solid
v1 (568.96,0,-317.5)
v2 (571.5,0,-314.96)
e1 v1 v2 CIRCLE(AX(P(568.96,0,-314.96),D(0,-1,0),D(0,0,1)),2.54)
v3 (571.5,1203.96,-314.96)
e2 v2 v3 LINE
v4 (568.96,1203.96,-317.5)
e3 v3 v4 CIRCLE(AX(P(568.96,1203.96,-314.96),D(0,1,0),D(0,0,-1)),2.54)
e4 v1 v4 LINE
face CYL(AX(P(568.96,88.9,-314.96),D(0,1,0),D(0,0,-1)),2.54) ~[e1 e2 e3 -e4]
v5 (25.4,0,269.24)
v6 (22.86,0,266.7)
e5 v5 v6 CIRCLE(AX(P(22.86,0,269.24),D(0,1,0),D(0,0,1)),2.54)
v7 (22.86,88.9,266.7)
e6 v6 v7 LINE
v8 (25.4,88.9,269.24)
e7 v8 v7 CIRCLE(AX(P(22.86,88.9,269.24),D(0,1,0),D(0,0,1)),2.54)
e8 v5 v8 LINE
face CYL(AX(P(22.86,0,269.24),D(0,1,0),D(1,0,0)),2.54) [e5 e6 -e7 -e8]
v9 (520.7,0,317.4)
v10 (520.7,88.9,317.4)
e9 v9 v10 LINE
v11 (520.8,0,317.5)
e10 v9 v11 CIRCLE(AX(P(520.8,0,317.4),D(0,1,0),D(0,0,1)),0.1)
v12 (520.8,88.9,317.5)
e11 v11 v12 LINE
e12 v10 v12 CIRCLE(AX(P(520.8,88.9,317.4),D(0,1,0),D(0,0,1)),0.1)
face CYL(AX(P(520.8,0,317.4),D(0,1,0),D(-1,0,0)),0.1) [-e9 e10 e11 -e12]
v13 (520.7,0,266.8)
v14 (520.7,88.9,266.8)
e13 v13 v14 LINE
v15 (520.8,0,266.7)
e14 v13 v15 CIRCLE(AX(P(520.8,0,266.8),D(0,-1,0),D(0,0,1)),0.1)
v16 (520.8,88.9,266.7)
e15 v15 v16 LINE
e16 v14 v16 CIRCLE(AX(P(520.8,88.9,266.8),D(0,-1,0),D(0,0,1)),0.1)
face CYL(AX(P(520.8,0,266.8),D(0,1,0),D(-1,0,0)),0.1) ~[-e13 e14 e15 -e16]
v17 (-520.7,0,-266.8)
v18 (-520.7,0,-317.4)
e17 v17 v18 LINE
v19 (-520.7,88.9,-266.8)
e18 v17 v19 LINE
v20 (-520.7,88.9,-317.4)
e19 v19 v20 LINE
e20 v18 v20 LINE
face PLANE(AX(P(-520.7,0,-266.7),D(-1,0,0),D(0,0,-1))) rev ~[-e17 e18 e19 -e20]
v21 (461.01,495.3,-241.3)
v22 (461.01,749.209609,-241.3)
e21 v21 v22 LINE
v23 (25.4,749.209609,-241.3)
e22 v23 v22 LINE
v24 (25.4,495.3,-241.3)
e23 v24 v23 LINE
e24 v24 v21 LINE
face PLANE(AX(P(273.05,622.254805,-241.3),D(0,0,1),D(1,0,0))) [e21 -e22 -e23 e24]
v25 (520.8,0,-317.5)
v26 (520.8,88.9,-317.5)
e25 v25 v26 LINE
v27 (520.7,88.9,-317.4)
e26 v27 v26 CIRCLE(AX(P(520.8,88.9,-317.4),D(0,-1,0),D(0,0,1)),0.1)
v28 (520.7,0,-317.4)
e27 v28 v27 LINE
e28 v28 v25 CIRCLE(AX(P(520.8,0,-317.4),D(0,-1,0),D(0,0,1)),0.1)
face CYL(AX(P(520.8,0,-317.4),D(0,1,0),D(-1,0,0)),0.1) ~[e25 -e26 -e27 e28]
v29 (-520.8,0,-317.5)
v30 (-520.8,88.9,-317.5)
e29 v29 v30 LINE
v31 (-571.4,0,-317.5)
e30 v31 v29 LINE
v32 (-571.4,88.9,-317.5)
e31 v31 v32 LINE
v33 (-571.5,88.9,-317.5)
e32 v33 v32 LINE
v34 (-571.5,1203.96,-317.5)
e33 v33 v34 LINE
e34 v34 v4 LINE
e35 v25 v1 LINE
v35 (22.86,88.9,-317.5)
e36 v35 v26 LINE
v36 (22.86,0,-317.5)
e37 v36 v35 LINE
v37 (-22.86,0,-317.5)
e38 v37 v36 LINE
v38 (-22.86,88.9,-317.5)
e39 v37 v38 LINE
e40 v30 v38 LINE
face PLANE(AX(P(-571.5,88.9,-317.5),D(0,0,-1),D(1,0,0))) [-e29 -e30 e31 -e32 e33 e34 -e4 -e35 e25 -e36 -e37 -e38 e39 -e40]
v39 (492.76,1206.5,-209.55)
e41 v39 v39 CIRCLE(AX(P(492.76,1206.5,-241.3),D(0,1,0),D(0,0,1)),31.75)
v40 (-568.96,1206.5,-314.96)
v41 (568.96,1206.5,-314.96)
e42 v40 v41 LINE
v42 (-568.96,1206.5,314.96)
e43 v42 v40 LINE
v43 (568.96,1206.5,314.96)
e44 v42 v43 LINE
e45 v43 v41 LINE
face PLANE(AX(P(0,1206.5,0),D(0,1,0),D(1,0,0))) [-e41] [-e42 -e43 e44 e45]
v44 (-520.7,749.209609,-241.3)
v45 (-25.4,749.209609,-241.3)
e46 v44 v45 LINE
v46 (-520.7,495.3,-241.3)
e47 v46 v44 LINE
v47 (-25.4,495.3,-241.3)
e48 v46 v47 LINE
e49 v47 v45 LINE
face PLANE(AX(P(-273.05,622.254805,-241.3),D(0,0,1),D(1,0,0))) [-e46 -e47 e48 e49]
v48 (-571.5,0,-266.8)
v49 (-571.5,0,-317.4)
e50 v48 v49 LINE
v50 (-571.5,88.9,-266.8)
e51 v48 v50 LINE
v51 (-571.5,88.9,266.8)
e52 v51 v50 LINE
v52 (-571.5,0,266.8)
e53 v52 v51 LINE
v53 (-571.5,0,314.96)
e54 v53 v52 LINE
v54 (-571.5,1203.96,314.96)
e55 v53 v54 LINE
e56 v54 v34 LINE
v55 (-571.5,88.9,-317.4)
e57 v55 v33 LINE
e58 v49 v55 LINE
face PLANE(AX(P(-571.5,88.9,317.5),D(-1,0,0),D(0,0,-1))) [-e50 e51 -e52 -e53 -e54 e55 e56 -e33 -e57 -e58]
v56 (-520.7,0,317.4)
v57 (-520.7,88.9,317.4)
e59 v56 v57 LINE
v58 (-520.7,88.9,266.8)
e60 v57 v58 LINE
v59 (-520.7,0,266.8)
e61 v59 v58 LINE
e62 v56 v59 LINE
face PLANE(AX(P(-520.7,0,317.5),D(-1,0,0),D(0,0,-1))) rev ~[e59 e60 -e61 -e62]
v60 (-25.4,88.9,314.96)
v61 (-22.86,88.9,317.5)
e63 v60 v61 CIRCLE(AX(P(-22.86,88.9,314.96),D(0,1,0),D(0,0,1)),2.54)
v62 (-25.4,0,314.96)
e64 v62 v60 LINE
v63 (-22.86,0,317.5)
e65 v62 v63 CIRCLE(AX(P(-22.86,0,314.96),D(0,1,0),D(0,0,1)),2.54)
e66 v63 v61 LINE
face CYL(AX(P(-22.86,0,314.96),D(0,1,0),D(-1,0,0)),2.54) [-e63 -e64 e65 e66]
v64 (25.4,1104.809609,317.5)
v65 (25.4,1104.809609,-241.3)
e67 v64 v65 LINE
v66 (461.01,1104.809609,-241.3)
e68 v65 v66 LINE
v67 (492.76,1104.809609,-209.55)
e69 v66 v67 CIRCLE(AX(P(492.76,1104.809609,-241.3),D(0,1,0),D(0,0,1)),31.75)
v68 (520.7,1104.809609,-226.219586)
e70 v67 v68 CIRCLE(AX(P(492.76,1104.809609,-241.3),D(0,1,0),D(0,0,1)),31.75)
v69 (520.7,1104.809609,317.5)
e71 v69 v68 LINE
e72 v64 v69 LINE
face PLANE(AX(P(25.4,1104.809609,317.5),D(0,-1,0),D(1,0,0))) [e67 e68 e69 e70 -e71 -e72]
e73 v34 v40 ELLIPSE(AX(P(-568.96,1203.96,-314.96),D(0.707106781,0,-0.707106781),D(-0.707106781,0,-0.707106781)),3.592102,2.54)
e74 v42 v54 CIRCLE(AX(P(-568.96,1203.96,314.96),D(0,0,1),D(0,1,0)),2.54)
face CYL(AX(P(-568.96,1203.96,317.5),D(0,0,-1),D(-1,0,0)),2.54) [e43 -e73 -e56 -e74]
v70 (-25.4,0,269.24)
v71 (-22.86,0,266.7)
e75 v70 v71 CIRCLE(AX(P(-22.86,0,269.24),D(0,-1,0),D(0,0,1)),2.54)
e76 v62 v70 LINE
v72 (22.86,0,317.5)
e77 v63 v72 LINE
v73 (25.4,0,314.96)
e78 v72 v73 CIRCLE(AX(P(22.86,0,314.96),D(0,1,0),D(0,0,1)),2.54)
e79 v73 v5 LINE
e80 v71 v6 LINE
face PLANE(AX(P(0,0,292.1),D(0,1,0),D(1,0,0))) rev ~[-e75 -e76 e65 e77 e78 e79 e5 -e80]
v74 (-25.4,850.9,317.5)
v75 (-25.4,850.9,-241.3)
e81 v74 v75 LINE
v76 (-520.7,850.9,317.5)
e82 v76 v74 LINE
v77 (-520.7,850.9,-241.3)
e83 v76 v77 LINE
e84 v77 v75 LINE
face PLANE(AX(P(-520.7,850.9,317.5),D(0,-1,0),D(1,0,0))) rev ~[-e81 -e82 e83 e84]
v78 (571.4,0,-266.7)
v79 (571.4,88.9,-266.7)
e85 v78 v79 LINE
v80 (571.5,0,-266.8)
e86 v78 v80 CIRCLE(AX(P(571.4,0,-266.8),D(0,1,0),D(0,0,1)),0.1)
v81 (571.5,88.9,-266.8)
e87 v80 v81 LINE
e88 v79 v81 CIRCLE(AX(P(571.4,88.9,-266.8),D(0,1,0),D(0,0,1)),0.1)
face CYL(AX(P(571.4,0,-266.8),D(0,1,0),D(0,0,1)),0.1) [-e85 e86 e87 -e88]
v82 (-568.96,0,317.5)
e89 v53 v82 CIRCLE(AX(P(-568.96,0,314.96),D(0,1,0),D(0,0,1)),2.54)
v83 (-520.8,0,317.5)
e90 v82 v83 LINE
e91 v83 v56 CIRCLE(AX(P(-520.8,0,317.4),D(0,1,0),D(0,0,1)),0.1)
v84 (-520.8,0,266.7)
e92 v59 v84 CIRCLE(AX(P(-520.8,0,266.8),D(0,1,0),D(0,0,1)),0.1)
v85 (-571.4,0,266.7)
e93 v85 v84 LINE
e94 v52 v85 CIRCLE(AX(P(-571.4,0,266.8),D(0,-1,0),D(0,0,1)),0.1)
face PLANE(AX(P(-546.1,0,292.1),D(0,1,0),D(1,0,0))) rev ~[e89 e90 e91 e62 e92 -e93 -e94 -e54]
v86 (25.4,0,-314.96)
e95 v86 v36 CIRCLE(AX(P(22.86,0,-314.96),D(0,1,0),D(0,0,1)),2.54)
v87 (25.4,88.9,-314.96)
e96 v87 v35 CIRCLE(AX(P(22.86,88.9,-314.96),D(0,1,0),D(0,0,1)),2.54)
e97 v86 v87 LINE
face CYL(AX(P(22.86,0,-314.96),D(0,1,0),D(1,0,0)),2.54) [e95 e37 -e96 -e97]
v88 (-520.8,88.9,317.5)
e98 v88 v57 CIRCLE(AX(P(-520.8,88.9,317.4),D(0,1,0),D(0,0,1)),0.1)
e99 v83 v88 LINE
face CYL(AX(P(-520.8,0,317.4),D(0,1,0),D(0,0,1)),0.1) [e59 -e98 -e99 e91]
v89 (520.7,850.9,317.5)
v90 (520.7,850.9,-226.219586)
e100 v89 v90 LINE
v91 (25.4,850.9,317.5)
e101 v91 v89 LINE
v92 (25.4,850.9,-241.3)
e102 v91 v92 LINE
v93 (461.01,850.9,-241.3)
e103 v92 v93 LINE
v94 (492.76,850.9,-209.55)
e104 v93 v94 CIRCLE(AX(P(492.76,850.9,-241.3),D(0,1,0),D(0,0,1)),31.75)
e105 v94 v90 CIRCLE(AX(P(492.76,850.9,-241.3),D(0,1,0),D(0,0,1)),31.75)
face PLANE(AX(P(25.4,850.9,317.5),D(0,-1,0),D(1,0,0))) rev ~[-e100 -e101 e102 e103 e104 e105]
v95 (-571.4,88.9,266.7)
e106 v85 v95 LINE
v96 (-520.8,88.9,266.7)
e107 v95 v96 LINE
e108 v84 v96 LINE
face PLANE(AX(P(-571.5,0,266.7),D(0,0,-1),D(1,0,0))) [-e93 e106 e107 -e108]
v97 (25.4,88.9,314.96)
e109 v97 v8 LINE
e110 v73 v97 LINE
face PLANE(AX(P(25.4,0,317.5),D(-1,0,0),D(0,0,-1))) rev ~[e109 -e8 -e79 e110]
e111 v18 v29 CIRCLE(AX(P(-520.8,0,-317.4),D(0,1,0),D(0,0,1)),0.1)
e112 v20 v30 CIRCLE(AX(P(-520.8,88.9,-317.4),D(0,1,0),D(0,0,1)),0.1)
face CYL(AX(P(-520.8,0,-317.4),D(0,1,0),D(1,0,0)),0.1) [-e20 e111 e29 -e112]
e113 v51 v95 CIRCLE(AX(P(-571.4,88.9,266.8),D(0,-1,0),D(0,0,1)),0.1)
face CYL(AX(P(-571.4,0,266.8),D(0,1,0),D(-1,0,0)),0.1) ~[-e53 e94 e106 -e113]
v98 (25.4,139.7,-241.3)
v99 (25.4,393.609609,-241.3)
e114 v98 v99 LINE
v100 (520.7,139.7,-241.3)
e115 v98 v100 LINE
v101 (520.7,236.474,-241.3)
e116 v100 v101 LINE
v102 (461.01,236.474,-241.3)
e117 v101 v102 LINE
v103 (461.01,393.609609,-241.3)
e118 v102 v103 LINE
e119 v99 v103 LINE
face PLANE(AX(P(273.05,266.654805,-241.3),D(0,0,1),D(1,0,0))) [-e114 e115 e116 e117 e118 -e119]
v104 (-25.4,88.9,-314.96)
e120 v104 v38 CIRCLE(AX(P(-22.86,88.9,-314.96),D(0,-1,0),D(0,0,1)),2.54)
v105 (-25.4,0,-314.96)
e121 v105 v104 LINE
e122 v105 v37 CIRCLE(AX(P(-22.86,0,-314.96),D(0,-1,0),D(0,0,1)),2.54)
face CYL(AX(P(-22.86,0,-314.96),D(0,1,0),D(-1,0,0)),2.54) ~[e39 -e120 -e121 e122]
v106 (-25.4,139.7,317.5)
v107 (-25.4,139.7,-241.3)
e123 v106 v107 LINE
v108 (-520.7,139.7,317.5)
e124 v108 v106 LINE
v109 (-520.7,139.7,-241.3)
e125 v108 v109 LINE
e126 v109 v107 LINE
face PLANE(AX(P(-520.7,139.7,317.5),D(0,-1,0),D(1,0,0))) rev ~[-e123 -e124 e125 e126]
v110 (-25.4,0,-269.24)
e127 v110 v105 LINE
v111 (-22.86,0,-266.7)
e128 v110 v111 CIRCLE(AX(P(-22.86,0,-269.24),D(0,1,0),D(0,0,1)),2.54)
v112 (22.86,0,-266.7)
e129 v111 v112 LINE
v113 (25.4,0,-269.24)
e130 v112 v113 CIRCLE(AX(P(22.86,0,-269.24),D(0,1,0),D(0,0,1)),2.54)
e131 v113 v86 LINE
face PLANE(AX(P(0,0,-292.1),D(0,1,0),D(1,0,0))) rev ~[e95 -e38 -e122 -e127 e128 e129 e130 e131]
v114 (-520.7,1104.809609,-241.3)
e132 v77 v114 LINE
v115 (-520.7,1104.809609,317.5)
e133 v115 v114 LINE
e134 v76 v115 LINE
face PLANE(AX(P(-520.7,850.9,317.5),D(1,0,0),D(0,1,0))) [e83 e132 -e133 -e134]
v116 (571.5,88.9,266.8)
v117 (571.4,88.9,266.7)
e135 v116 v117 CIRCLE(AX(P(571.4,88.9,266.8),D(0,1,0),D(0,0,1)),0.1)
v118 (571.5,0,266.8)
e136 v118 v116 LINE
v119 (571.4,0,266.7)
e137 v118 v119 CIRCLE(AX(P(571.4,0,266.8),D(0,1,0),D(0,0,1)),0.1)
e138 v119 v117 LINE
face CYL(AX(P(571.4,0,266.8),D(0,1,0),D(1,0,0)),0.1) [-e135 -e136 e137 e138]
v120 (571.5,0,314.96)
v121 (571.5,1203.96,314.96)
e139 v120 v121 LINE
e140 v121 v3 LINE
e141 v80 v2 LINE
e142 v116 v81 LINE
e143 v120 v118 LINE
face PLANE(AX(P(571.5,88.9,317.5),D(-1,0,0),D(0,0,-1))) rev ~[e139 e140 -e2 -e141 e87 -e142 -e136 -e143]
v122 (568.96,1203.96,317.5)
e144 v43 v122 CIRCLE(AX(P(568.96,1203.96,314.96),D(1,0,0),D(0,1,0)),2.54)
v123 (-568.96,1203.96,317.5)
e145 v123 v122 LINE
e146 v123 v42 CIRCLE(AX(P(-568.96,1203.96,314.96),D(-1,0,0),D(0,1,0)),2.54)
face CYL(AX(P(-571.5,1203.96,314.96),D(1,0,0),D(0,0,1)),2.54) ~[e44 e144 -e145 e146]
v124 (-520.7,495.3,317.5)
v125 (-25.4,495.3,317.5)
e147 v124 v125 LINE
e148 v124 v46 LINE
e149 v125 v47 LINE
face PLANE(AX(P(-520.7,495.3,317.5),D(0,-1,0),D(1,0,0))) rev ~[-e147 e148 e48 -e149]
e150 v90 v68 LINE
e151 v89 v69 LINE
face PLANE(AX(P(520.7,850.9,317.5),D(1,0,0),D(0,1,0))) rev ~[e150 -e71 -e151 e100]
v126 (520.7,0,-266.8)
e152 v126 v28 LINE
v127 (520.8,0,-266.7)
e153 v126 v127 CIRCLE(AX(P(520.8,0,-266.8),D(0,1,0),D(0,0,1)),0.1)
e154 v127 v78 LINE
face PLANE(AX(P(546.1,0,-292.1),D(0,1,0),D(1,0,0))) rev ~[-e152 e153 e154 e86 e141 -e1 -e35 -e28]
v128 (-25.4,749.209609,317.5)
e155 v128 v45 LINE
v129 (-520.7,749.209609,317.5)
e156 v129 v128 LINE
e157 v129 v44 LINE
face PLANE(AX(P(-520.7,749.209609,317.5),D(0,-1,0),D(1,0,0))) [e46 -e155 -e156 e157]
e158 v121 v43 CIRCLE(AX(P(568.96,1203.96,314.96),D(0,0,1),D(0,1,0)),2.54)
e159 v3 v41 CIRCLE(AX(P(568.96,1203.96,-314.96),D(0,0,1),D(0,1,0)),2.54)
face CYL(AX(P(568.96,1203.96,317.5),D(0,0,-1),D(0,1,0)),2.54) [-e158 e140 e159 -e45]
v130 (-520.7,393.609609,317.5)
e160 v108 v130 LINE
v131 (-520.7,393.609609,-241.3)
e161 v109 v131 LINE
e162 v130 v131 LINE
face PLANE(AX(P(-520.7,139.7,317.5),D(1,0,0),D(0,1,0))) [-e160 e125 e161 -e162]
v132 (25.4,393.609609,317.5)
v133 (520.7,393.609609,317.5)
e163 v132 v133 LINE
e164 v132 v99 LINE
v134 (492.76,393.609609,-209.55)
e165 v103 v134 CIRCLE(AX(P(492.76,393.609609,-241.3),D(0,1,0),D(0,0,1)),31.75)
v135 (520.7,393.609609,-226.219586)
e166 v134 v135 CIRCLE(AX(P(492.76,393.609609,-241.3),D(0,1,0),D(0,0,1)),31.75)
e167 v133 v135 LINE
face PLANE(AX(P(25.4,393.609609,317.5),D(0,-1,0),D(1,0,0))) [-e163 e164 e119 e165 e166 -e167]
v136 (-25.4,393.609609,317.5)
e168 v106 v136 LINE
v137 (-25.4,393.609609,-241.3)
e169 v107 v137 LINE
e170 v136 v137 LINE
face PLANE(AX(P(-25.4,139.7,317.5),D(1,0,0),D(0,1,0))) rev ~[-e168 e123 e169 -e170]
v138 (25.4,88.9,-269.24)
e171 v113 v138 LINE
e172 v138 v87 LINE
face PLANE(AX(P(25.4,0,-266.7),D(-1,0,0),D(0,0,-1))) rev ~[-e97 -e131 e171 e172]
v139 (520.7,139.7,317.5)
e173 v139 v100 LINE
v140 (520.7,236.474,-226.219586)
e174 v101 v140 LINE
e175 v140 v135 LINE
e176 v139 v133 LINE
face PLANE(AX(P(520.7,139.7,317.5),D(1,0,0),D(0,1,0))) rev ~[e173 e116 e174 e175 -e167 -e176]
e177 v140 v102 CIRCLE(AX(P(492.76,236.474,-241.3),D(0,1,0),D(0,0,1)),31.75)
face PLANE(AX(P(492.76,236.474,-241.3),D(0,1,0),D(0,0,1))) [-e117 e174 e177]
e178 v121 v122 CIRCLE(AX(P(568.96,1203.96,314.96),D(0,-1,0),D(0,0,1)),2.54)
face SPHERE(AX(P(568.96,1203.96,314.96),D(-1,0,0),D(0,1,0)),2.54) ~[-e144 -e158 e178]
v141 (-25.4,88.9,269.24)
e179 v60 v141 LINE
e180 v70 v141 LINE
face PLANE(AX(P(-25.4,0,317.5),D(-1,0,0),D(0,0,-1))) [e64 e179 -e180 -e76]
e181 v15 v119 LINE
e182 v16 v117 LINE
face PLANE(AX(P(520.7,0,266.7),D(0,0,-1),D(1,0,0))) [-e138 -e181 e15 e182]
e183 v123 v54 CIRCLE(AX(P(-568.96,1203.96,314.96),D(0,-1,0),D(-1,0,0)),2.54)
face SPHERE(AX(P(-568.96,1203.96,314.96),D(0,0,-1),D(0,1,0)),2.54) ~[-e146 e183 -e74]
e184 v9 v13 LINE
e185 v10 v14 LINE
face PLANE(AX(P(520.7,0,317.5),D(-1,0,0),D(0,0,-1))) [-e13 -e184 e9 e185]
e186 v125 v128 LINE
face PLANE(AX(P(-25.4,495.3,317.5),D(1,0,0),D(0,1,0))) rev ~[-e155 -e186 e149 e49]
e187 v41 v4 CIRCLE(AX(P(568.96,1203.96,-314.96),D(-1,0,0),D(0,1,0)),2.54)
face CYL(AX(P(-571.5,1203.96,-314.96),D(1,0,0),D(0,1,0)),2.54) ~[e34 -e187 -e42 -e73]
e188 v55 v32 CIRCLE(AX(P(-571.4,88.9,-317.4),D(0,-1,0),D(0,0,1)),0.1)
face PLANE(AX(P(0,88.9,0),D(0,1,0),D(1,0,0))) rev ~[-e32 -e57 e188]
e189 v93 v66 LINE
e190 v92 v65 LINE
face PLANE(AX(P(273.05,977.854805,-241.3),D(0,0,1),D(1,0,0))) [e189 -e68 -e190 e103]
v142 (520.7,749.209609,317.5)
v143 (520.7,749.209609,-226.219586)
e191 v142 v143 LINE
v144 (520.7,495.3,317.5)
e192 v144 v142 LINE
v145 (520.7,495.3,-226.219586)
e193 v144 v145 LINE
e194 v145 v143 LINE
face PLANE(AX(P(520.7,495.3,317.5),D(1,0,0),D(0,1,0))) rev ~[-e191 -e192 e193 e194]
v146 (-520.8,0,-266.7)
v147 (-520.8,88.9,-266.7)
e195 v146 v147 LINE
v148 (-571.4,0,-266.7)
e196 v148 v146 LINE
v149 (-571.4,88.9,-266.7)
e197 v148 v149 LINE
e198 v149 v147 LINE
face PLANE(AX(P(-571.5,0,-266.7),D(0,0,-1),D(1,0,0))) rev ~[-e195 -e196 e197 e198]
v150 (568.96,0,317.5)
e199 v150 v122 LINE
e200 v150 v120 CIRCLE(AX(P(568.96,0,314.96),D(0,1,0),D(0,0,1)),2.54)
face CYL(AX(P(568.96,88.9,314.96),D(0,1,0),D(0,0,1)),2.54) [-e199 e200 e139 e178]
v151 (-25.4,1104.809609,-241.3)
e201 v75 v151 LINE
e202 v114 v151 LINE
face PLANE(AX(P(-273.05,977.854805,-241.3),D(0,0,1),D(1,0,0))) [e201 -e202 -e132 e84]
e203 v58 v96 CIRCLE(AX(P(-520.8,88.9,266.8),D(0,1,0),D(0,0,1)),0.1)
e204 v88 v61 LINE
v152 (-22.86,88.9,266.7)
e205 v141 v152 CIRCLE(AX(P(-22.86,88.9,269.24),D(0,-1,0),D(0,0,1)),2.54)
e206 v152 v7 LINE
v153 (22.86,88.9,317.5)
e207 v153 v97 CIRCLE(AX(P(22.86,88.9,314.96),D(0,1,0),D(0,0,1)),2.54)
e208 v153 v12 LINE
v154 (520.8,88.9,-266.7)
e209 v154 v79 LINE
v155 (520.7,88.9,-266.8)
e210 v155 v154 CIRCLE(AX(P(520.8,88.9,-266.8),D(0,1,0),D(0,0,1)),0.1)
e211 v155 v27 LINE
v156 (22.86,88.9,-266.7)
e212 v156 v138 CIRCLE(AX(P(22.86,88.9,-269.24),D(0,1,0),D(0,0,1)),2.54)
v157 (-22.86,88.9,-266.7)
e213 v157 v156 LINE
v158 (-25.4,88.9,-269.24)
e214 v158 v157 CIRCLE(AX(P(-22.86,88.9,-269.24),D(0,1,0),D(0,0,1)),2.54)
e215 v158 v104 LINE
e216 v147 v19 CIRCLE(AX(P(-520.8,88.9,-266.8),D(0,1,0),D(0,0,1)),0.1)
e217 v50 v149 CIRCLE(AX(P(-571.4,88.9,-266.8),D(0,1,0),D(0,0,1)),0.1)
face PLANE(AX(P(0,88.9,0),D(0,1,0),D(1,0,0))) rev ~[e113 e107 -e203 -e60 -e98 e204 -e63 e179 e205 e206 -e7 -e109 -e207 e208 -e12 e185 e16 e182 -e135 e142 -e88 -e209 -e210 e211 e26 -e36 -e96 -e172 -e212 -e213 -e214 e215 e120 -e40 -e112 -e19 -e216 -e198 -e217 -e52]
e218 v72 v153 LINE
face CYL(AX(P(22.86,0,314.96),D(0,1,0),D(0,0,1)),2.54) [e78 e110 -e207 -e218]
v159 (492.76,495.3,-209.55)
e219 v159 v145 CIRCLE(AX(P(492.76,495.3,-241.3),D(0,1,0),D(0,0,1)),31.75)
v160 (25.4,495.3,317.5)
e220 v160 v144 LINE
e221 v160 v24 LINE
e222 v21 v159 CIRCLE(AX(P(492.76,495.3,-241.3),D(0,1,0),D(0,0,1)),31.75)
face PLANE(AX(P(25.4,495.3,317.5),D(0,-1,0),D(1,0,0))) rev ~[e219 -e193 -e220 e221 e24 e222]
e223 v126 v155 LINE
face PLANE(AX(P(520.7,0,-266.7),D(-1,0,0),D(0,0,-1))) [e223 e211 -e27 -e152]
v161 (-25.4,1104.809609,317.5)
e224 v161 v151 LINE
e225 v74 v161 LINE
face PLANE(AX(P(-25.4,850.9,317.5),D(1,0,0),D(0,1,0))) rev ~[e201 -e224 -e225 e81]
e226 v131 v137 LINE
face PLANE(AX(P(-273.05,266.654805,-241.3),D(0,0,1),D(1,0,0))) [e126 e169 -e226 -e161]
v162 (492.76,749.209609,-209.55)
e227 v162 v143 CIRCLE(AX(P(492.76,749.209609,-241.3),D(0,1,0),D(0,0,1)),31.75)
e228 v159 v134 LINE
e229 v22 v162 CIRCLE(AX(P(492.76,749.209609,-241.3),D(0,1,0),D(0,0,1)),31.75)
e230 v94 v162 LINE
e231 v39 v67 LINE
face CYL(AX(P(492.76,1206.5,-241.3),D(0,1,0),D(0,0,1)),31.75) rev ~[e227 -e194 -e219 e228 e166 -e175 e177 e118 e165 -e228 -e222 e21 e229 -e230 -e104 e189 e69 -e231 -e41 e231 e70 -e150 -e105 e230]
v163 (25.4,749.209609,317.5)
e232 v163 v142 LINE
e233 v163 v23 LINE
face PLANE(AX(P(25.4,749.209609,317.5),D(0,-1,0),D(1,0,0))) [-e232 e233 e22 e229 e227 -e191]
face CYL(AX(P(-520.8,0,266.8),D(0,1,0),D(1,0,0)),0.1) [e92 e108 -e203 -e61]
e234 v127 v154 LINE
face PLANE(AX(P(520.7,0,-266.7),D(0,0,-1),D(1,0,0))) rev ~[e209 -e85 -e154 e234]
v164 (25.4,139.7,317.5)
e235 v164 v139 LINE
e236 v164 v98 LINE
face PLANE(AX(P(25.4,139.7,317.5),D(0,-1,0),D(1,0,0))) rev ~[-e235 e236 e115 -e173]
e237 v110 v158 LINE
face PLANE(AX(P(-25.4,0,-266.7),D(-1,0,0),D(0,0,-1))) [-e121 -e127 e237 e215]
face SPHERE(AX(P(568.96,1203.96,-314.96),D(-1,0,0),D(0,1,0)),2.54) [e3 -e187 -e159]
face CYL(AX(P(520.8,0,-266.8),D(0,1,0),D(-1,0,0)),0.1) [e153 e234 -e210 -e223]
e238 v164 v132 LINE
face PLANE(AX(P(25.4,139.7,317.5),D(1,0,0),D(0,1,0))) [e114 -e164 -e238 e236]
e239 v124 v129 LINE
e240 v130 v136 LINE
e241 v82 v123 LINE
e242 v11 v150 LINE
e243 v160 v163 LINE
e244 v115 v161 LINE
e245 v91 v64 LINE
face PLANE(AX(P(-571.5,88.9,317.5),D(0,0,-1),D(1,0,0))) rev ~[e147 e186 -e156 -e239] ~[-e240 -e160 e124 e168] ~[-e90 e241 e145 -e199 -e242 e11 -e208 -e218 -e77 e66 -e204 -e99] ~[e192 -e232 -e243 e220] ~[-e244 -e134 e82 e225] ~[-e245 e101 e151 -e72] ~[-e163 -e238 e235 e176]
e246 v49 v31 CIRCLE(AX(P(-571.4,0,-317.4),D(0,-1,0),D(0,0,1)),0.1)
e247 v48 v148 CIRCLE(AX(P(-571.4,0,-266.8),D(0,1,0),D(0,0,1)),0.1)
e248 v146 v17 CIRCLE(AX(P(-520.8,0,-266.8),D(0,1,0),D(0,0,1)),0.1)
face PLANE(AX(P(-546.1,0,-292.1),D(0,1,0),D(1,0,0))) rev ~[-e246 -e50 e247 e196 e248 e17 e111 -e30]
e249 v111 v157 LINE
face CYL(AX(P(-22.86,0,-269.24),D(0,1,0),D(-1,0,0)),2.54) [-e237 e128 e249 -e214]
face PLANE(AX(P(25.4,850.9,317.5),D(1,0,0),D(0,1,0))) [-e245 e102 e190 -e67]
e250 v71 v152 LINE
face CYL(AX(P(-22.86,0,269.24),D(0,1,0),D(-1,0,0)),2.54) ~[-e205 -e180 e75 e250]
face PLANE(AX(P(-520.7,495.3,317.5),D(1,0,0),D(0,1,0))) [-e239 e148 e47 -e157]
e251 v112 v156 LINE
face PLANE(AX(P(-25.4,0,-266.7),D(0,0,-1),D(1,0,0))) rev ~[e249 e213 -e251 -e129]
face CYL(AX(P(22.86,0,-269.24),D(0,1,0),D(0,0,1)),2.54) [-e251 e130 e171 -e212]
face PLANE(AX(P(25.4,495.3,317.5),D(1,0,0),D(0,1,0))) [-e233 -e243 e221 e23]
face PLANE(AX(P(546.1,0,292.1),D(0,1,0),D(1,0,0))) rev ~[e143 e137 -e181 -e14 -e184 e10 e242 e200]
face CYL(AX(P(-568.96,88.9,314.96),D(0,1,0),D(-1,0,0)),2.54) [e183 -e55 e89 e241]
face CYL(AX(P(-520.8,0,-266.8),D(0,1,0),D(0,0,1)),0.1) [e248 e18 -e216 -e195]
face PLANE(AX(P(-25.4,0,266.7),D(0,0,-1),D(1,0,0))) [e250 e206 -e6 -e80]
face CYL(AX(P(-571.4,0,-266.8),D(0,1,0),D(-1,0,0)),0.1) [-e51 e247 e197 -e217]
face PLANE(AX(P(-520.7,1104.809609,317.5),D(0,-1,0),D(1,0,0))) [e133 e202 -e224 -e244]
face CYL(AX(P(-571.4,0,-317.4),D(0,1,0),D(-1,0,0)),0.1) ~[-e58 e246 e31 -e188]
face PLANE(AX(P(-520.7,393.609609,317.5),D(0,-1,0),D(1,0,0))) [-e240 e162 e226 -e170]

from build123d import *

# Parameters (mm, degrees)
SKETCH3_W            = 50.8
SKETCH3_H            = 50.8
BOSS_EXTRUDE1_DEPTH  = 88.9
SKETCH4_W            = 50.8
SKETCH4_H            = 50.8
BOSS_EXTRUDE2_DEPTH  = 88.9
SKETCH5_W            = 50.8
SKETCH5_H            = 50.8
BOSS_EXTRUDE3_DEPTH  = 88.9
FILLET1_R            = 0.1
FILLET2_R            = 0.1
FILLET3_R            = 0.1
SKETCH6_W            = 50.8
SKETCH6_H            = 50.8
BOSS_EXTRUDE4_DEPTH  = 88.9
FILLET4_R            = 0.1
SKETCH8_W            = 50.8
SKETCH8_H            = 50.8
BOSS_EXTRUDE5_DEPTH  = 88.9
SKETCH9_W            = 50.8
SKETCH9_H            = 50.8
BOSS_EXTRUDE6_DEPTH  = 88.9
FILLET5_R            = 2.54
FILLET6_R            = 2.54
SKETCH10_W           = 1143
SKETCH10_H           = 635
BOSS_EXTRUDE7_DEPTH  = 1117.6
SKETCH11_W           = 495.3
SKETCH11_H           = 253.909609279
CUT_EXTRUDE1_DEPTH   = 558.8
FILLET7_R            = 2.54
LPATTERN1_COUNT      = 3
LPATTERN1_PITCH      = 355.6
LPATTERN1_COUNT_DIR2 = 2
LPATTERN1_PITCH_DIR2 = 546.1
SKETCH13_R           = 31.75
CUT_EXTRUDE2_DEPTH   = 970.026


with BuildPart() as part:
    # Sketch3 → Boss-Extrude1 (new body)
    with BuildSketch(Plane(origin=(0, 0, 0), x_dir=(1, 0, 0), z_dir=(0, 1, 0))):
        with Locations((546.1, 292.1)):
            Rectangle(SKETCH3_W, SKETCH3_H)
    extrude(amount=BOSS_EXTRUDE1_DEPTH)

    # Fillet2
    fillet2_edges = [part.edges().sort_by_distance(p)[0] for p in [
        (520.7, 44.45, -317.5),
        (571.5, 44.45, -317.5),
        (571.5, 44.45, -266.7),
        (520.7, 44.45, -266.7),
    ]]
    fillet(fillet2_edges, radius=FILLET2_R)



with BuildPart() as body_2:
    # Sketch4 → Boss-Extrude2 (new body)
    with BuildSketch(Plane(origin=(0, 0, 0), x_dir=(1, 0, 0), z_dir=(0, 1, 0))):
        with Locations((546.1, -292.1)):
            Rectangle(SKETCH4_W, SKETCH4_H)
    extrude(amount=BOSS_EXTRUDE2_DEPTH)

    # Fillet1
    fillet1_edges = [body_2.edges().sort_by_distance(p)[0] for p in [
        (520.7, 44.45, 266.7),
        (571.5, 44.45, 266.7),
        (571.5, 44.45, 317.5),
        (520.7, 44.45, 317.5),
    ]]
    fillet(fillet1_edges, radius=FILLET1_R)


with BuildPart() as body_3:
    # Sketch5 → Boss-Extrude3 (new body)
    with BuildSketch(Plane(origin=(0, 0, 0), x_dir=(1, 0, 0), z_dir=(0, 1, 0))):
        with Locations((-546.1, 292.1)):
            Rectangle(SKETCH5_W, SKETCH5_H)
    extrude(amount=BOSS_EXTRUDE3_DEPTH)

    # Fillet3
    fillet3_edges = [body_3.edges().sort_by_distance(p)[0] for p in [
        (-520.7, 44.45, -266.7),
        (-571.5, 44.45, -266.7),
        (-571.5, 44.45, -317.5),
        (-520.7, 44.45, -317.5),
    ]]
    fillet(fillet3_edges, radius=FILLET3_R)


with BuildPart() as body_4:
    # Sketch6 → Boss-Extrude4 (new body)
    with BuildSketch(Plane(origin=(0, 0, 0), x_dir=(1, 0, 0), z_dir=(0, 1, 0))):
        with Locations((-546.1, -292.1)):
            Rectangle(SKETCH6_W, SKETCH6_H)
    extrude(amount=BOSS_EXTRUDE4_DEPTH)

    # Fillet4
    fillet4_edges = [body_4.edges().sort_by_distance(p)[0] for p in [
        (-520.7, 44.45, 317.5),
        (-571.5, 44.45, 317.5),
        (-571.5, 44.45, 266.7),
        (-520.7, 44.45, 266.7),
    ]]
    fillet(fillet4_edges, radius=FILLET4_R)


with BuildPart() as body_5:
    # Sketch8 → Boss-Extrude5 (new body)
    with BuildSketch(Plane(origin=(0, 0, 0), x_dir=(1, 0, 0), z_dir=(0, 1, 0))):
        with Locations((0, 292.1)):
            Rectangle(SKETCH8_W, SKETCH8_H)
    extrude(amount=BOSS_EXTRUDE5_DEPTH)

    # Fillet6
    fillet6_edges = [body_5.edges().sort_by_distance(p)[0] for p in [
        (25.4, 44.45, -266.7),
        (-25.4, 44.45, -266.7),
        (-25.4, 44.45, -317.5),
        (25.4, 44.45, -317.5),
    ]]
    fillet(fillet6_edges, radius=FILLET6_R)


with BuildPart() as body_6:
    # Sketch9 → Boss-Extrude6 (new body)
    with BuildSketch(Plane(origin=(0, 0, 0), x_dir=(1, 0, 0), z_dir=(0, 1, 0))):
        with Locations((0, -292.1)):
            Rectangle(SKETCH9_W, SKETCH9_H)
    extrude(amount=BOSS_EXTRUDE6_DEPTH)

    # Fillet5
    fillet5_edges = [body_6.edges().sort_by_distance(p)[0] for p in [
        (25.4, 44.45, 317.5),
        (-25.4, 44.45, 317.5),
        (-25.4, 44.45, 266.7),
        (25.4, 44.45, 266.7),
    ]]
    fillet(fillet5_edges, radius=FILLET5_R)


with BuildPart() as part_1:
    add(part.part)

    add(body_2.part)  # Boss-Extrude7 merges body 2

    add(body_3.part)  # Boss-Extrude7 merges body 3

    add(body_4.part)  # Boss-Extrude7 merges body 4

    add(body_5.part)  # Boss-Extrude7 merges body 5

    add(body_6.part)  # Boss-Extrude7 merges body 6
    # Sketch10 → Boss-Extrude7 (add)
    with BuildSketch(Plane(origin=(0, 88.9, 0), x_dir=(1, 0, 0), z_dir=(0, 1, 0))):
        Rectangle(SKETCH10_W, SKETCH10_H)
    extrude(amount=BOSS_EXTRUDE7_DEPTH)

    # Sketch11 → Cut-Extrude1 (cut)
    with BuildSketch(Plane.XY.offset(317.5)):
        with Locations((-273.05, 266.65480464)):
            Rectangle(SKETCH11_W, SKETCH11_H)
    cut_extrude1 = extrude(amount=-CUT_EXTRUDE1_DEPTH, mode=Mode.SUBTRACT)

    # Fillet7
    fillet7_edges = [part_1.edges().sort_by_distance(p)[0] for p in [
        (-571.5, 1206.5, 0),
        (0, 1206.5, 317.5),
        (0, 1206.5, -317.5),
        (571.5, 1206.5, 0),
        (571.5, 647.7, -317.5),
        (571.5, 647.7, 317.5),
        (-571.5, 647.7, 317.5),
    ]]
    fillet(fillet7_edges, radius=FILLET7_R)

    # LPattern1: Cut-Extrude1 3 × 2
    with Locations(*[(j * LPATTERN1_PITCH_DIR2, i * LPATTERN1_PITCH, 0) for i in range(LPATTERN1_COUNT) for j in range(LPATTERN1_COUNT_DIR2) if (i, j) != (0, 0)]):
        add(cut_extrude1, mode=Mode.SUBTRACT)

    # Sketch13 → Cut-Extrude2 (cut)
    with BuildSketch(Plane(origin=(0, 1206.5, 0), x_dir=(1, 0, 0), z_dir=(0, 1, 0))):
        with Locations(Location((492.76, 241.3, 0), (0, 0, 270))):
            Circle(SKETCH13_R)
    extrude(amount=-CUT_EXTRUDE2_DEPTH, mode=Mode.SUBTRACT)


solid = part_1.part
